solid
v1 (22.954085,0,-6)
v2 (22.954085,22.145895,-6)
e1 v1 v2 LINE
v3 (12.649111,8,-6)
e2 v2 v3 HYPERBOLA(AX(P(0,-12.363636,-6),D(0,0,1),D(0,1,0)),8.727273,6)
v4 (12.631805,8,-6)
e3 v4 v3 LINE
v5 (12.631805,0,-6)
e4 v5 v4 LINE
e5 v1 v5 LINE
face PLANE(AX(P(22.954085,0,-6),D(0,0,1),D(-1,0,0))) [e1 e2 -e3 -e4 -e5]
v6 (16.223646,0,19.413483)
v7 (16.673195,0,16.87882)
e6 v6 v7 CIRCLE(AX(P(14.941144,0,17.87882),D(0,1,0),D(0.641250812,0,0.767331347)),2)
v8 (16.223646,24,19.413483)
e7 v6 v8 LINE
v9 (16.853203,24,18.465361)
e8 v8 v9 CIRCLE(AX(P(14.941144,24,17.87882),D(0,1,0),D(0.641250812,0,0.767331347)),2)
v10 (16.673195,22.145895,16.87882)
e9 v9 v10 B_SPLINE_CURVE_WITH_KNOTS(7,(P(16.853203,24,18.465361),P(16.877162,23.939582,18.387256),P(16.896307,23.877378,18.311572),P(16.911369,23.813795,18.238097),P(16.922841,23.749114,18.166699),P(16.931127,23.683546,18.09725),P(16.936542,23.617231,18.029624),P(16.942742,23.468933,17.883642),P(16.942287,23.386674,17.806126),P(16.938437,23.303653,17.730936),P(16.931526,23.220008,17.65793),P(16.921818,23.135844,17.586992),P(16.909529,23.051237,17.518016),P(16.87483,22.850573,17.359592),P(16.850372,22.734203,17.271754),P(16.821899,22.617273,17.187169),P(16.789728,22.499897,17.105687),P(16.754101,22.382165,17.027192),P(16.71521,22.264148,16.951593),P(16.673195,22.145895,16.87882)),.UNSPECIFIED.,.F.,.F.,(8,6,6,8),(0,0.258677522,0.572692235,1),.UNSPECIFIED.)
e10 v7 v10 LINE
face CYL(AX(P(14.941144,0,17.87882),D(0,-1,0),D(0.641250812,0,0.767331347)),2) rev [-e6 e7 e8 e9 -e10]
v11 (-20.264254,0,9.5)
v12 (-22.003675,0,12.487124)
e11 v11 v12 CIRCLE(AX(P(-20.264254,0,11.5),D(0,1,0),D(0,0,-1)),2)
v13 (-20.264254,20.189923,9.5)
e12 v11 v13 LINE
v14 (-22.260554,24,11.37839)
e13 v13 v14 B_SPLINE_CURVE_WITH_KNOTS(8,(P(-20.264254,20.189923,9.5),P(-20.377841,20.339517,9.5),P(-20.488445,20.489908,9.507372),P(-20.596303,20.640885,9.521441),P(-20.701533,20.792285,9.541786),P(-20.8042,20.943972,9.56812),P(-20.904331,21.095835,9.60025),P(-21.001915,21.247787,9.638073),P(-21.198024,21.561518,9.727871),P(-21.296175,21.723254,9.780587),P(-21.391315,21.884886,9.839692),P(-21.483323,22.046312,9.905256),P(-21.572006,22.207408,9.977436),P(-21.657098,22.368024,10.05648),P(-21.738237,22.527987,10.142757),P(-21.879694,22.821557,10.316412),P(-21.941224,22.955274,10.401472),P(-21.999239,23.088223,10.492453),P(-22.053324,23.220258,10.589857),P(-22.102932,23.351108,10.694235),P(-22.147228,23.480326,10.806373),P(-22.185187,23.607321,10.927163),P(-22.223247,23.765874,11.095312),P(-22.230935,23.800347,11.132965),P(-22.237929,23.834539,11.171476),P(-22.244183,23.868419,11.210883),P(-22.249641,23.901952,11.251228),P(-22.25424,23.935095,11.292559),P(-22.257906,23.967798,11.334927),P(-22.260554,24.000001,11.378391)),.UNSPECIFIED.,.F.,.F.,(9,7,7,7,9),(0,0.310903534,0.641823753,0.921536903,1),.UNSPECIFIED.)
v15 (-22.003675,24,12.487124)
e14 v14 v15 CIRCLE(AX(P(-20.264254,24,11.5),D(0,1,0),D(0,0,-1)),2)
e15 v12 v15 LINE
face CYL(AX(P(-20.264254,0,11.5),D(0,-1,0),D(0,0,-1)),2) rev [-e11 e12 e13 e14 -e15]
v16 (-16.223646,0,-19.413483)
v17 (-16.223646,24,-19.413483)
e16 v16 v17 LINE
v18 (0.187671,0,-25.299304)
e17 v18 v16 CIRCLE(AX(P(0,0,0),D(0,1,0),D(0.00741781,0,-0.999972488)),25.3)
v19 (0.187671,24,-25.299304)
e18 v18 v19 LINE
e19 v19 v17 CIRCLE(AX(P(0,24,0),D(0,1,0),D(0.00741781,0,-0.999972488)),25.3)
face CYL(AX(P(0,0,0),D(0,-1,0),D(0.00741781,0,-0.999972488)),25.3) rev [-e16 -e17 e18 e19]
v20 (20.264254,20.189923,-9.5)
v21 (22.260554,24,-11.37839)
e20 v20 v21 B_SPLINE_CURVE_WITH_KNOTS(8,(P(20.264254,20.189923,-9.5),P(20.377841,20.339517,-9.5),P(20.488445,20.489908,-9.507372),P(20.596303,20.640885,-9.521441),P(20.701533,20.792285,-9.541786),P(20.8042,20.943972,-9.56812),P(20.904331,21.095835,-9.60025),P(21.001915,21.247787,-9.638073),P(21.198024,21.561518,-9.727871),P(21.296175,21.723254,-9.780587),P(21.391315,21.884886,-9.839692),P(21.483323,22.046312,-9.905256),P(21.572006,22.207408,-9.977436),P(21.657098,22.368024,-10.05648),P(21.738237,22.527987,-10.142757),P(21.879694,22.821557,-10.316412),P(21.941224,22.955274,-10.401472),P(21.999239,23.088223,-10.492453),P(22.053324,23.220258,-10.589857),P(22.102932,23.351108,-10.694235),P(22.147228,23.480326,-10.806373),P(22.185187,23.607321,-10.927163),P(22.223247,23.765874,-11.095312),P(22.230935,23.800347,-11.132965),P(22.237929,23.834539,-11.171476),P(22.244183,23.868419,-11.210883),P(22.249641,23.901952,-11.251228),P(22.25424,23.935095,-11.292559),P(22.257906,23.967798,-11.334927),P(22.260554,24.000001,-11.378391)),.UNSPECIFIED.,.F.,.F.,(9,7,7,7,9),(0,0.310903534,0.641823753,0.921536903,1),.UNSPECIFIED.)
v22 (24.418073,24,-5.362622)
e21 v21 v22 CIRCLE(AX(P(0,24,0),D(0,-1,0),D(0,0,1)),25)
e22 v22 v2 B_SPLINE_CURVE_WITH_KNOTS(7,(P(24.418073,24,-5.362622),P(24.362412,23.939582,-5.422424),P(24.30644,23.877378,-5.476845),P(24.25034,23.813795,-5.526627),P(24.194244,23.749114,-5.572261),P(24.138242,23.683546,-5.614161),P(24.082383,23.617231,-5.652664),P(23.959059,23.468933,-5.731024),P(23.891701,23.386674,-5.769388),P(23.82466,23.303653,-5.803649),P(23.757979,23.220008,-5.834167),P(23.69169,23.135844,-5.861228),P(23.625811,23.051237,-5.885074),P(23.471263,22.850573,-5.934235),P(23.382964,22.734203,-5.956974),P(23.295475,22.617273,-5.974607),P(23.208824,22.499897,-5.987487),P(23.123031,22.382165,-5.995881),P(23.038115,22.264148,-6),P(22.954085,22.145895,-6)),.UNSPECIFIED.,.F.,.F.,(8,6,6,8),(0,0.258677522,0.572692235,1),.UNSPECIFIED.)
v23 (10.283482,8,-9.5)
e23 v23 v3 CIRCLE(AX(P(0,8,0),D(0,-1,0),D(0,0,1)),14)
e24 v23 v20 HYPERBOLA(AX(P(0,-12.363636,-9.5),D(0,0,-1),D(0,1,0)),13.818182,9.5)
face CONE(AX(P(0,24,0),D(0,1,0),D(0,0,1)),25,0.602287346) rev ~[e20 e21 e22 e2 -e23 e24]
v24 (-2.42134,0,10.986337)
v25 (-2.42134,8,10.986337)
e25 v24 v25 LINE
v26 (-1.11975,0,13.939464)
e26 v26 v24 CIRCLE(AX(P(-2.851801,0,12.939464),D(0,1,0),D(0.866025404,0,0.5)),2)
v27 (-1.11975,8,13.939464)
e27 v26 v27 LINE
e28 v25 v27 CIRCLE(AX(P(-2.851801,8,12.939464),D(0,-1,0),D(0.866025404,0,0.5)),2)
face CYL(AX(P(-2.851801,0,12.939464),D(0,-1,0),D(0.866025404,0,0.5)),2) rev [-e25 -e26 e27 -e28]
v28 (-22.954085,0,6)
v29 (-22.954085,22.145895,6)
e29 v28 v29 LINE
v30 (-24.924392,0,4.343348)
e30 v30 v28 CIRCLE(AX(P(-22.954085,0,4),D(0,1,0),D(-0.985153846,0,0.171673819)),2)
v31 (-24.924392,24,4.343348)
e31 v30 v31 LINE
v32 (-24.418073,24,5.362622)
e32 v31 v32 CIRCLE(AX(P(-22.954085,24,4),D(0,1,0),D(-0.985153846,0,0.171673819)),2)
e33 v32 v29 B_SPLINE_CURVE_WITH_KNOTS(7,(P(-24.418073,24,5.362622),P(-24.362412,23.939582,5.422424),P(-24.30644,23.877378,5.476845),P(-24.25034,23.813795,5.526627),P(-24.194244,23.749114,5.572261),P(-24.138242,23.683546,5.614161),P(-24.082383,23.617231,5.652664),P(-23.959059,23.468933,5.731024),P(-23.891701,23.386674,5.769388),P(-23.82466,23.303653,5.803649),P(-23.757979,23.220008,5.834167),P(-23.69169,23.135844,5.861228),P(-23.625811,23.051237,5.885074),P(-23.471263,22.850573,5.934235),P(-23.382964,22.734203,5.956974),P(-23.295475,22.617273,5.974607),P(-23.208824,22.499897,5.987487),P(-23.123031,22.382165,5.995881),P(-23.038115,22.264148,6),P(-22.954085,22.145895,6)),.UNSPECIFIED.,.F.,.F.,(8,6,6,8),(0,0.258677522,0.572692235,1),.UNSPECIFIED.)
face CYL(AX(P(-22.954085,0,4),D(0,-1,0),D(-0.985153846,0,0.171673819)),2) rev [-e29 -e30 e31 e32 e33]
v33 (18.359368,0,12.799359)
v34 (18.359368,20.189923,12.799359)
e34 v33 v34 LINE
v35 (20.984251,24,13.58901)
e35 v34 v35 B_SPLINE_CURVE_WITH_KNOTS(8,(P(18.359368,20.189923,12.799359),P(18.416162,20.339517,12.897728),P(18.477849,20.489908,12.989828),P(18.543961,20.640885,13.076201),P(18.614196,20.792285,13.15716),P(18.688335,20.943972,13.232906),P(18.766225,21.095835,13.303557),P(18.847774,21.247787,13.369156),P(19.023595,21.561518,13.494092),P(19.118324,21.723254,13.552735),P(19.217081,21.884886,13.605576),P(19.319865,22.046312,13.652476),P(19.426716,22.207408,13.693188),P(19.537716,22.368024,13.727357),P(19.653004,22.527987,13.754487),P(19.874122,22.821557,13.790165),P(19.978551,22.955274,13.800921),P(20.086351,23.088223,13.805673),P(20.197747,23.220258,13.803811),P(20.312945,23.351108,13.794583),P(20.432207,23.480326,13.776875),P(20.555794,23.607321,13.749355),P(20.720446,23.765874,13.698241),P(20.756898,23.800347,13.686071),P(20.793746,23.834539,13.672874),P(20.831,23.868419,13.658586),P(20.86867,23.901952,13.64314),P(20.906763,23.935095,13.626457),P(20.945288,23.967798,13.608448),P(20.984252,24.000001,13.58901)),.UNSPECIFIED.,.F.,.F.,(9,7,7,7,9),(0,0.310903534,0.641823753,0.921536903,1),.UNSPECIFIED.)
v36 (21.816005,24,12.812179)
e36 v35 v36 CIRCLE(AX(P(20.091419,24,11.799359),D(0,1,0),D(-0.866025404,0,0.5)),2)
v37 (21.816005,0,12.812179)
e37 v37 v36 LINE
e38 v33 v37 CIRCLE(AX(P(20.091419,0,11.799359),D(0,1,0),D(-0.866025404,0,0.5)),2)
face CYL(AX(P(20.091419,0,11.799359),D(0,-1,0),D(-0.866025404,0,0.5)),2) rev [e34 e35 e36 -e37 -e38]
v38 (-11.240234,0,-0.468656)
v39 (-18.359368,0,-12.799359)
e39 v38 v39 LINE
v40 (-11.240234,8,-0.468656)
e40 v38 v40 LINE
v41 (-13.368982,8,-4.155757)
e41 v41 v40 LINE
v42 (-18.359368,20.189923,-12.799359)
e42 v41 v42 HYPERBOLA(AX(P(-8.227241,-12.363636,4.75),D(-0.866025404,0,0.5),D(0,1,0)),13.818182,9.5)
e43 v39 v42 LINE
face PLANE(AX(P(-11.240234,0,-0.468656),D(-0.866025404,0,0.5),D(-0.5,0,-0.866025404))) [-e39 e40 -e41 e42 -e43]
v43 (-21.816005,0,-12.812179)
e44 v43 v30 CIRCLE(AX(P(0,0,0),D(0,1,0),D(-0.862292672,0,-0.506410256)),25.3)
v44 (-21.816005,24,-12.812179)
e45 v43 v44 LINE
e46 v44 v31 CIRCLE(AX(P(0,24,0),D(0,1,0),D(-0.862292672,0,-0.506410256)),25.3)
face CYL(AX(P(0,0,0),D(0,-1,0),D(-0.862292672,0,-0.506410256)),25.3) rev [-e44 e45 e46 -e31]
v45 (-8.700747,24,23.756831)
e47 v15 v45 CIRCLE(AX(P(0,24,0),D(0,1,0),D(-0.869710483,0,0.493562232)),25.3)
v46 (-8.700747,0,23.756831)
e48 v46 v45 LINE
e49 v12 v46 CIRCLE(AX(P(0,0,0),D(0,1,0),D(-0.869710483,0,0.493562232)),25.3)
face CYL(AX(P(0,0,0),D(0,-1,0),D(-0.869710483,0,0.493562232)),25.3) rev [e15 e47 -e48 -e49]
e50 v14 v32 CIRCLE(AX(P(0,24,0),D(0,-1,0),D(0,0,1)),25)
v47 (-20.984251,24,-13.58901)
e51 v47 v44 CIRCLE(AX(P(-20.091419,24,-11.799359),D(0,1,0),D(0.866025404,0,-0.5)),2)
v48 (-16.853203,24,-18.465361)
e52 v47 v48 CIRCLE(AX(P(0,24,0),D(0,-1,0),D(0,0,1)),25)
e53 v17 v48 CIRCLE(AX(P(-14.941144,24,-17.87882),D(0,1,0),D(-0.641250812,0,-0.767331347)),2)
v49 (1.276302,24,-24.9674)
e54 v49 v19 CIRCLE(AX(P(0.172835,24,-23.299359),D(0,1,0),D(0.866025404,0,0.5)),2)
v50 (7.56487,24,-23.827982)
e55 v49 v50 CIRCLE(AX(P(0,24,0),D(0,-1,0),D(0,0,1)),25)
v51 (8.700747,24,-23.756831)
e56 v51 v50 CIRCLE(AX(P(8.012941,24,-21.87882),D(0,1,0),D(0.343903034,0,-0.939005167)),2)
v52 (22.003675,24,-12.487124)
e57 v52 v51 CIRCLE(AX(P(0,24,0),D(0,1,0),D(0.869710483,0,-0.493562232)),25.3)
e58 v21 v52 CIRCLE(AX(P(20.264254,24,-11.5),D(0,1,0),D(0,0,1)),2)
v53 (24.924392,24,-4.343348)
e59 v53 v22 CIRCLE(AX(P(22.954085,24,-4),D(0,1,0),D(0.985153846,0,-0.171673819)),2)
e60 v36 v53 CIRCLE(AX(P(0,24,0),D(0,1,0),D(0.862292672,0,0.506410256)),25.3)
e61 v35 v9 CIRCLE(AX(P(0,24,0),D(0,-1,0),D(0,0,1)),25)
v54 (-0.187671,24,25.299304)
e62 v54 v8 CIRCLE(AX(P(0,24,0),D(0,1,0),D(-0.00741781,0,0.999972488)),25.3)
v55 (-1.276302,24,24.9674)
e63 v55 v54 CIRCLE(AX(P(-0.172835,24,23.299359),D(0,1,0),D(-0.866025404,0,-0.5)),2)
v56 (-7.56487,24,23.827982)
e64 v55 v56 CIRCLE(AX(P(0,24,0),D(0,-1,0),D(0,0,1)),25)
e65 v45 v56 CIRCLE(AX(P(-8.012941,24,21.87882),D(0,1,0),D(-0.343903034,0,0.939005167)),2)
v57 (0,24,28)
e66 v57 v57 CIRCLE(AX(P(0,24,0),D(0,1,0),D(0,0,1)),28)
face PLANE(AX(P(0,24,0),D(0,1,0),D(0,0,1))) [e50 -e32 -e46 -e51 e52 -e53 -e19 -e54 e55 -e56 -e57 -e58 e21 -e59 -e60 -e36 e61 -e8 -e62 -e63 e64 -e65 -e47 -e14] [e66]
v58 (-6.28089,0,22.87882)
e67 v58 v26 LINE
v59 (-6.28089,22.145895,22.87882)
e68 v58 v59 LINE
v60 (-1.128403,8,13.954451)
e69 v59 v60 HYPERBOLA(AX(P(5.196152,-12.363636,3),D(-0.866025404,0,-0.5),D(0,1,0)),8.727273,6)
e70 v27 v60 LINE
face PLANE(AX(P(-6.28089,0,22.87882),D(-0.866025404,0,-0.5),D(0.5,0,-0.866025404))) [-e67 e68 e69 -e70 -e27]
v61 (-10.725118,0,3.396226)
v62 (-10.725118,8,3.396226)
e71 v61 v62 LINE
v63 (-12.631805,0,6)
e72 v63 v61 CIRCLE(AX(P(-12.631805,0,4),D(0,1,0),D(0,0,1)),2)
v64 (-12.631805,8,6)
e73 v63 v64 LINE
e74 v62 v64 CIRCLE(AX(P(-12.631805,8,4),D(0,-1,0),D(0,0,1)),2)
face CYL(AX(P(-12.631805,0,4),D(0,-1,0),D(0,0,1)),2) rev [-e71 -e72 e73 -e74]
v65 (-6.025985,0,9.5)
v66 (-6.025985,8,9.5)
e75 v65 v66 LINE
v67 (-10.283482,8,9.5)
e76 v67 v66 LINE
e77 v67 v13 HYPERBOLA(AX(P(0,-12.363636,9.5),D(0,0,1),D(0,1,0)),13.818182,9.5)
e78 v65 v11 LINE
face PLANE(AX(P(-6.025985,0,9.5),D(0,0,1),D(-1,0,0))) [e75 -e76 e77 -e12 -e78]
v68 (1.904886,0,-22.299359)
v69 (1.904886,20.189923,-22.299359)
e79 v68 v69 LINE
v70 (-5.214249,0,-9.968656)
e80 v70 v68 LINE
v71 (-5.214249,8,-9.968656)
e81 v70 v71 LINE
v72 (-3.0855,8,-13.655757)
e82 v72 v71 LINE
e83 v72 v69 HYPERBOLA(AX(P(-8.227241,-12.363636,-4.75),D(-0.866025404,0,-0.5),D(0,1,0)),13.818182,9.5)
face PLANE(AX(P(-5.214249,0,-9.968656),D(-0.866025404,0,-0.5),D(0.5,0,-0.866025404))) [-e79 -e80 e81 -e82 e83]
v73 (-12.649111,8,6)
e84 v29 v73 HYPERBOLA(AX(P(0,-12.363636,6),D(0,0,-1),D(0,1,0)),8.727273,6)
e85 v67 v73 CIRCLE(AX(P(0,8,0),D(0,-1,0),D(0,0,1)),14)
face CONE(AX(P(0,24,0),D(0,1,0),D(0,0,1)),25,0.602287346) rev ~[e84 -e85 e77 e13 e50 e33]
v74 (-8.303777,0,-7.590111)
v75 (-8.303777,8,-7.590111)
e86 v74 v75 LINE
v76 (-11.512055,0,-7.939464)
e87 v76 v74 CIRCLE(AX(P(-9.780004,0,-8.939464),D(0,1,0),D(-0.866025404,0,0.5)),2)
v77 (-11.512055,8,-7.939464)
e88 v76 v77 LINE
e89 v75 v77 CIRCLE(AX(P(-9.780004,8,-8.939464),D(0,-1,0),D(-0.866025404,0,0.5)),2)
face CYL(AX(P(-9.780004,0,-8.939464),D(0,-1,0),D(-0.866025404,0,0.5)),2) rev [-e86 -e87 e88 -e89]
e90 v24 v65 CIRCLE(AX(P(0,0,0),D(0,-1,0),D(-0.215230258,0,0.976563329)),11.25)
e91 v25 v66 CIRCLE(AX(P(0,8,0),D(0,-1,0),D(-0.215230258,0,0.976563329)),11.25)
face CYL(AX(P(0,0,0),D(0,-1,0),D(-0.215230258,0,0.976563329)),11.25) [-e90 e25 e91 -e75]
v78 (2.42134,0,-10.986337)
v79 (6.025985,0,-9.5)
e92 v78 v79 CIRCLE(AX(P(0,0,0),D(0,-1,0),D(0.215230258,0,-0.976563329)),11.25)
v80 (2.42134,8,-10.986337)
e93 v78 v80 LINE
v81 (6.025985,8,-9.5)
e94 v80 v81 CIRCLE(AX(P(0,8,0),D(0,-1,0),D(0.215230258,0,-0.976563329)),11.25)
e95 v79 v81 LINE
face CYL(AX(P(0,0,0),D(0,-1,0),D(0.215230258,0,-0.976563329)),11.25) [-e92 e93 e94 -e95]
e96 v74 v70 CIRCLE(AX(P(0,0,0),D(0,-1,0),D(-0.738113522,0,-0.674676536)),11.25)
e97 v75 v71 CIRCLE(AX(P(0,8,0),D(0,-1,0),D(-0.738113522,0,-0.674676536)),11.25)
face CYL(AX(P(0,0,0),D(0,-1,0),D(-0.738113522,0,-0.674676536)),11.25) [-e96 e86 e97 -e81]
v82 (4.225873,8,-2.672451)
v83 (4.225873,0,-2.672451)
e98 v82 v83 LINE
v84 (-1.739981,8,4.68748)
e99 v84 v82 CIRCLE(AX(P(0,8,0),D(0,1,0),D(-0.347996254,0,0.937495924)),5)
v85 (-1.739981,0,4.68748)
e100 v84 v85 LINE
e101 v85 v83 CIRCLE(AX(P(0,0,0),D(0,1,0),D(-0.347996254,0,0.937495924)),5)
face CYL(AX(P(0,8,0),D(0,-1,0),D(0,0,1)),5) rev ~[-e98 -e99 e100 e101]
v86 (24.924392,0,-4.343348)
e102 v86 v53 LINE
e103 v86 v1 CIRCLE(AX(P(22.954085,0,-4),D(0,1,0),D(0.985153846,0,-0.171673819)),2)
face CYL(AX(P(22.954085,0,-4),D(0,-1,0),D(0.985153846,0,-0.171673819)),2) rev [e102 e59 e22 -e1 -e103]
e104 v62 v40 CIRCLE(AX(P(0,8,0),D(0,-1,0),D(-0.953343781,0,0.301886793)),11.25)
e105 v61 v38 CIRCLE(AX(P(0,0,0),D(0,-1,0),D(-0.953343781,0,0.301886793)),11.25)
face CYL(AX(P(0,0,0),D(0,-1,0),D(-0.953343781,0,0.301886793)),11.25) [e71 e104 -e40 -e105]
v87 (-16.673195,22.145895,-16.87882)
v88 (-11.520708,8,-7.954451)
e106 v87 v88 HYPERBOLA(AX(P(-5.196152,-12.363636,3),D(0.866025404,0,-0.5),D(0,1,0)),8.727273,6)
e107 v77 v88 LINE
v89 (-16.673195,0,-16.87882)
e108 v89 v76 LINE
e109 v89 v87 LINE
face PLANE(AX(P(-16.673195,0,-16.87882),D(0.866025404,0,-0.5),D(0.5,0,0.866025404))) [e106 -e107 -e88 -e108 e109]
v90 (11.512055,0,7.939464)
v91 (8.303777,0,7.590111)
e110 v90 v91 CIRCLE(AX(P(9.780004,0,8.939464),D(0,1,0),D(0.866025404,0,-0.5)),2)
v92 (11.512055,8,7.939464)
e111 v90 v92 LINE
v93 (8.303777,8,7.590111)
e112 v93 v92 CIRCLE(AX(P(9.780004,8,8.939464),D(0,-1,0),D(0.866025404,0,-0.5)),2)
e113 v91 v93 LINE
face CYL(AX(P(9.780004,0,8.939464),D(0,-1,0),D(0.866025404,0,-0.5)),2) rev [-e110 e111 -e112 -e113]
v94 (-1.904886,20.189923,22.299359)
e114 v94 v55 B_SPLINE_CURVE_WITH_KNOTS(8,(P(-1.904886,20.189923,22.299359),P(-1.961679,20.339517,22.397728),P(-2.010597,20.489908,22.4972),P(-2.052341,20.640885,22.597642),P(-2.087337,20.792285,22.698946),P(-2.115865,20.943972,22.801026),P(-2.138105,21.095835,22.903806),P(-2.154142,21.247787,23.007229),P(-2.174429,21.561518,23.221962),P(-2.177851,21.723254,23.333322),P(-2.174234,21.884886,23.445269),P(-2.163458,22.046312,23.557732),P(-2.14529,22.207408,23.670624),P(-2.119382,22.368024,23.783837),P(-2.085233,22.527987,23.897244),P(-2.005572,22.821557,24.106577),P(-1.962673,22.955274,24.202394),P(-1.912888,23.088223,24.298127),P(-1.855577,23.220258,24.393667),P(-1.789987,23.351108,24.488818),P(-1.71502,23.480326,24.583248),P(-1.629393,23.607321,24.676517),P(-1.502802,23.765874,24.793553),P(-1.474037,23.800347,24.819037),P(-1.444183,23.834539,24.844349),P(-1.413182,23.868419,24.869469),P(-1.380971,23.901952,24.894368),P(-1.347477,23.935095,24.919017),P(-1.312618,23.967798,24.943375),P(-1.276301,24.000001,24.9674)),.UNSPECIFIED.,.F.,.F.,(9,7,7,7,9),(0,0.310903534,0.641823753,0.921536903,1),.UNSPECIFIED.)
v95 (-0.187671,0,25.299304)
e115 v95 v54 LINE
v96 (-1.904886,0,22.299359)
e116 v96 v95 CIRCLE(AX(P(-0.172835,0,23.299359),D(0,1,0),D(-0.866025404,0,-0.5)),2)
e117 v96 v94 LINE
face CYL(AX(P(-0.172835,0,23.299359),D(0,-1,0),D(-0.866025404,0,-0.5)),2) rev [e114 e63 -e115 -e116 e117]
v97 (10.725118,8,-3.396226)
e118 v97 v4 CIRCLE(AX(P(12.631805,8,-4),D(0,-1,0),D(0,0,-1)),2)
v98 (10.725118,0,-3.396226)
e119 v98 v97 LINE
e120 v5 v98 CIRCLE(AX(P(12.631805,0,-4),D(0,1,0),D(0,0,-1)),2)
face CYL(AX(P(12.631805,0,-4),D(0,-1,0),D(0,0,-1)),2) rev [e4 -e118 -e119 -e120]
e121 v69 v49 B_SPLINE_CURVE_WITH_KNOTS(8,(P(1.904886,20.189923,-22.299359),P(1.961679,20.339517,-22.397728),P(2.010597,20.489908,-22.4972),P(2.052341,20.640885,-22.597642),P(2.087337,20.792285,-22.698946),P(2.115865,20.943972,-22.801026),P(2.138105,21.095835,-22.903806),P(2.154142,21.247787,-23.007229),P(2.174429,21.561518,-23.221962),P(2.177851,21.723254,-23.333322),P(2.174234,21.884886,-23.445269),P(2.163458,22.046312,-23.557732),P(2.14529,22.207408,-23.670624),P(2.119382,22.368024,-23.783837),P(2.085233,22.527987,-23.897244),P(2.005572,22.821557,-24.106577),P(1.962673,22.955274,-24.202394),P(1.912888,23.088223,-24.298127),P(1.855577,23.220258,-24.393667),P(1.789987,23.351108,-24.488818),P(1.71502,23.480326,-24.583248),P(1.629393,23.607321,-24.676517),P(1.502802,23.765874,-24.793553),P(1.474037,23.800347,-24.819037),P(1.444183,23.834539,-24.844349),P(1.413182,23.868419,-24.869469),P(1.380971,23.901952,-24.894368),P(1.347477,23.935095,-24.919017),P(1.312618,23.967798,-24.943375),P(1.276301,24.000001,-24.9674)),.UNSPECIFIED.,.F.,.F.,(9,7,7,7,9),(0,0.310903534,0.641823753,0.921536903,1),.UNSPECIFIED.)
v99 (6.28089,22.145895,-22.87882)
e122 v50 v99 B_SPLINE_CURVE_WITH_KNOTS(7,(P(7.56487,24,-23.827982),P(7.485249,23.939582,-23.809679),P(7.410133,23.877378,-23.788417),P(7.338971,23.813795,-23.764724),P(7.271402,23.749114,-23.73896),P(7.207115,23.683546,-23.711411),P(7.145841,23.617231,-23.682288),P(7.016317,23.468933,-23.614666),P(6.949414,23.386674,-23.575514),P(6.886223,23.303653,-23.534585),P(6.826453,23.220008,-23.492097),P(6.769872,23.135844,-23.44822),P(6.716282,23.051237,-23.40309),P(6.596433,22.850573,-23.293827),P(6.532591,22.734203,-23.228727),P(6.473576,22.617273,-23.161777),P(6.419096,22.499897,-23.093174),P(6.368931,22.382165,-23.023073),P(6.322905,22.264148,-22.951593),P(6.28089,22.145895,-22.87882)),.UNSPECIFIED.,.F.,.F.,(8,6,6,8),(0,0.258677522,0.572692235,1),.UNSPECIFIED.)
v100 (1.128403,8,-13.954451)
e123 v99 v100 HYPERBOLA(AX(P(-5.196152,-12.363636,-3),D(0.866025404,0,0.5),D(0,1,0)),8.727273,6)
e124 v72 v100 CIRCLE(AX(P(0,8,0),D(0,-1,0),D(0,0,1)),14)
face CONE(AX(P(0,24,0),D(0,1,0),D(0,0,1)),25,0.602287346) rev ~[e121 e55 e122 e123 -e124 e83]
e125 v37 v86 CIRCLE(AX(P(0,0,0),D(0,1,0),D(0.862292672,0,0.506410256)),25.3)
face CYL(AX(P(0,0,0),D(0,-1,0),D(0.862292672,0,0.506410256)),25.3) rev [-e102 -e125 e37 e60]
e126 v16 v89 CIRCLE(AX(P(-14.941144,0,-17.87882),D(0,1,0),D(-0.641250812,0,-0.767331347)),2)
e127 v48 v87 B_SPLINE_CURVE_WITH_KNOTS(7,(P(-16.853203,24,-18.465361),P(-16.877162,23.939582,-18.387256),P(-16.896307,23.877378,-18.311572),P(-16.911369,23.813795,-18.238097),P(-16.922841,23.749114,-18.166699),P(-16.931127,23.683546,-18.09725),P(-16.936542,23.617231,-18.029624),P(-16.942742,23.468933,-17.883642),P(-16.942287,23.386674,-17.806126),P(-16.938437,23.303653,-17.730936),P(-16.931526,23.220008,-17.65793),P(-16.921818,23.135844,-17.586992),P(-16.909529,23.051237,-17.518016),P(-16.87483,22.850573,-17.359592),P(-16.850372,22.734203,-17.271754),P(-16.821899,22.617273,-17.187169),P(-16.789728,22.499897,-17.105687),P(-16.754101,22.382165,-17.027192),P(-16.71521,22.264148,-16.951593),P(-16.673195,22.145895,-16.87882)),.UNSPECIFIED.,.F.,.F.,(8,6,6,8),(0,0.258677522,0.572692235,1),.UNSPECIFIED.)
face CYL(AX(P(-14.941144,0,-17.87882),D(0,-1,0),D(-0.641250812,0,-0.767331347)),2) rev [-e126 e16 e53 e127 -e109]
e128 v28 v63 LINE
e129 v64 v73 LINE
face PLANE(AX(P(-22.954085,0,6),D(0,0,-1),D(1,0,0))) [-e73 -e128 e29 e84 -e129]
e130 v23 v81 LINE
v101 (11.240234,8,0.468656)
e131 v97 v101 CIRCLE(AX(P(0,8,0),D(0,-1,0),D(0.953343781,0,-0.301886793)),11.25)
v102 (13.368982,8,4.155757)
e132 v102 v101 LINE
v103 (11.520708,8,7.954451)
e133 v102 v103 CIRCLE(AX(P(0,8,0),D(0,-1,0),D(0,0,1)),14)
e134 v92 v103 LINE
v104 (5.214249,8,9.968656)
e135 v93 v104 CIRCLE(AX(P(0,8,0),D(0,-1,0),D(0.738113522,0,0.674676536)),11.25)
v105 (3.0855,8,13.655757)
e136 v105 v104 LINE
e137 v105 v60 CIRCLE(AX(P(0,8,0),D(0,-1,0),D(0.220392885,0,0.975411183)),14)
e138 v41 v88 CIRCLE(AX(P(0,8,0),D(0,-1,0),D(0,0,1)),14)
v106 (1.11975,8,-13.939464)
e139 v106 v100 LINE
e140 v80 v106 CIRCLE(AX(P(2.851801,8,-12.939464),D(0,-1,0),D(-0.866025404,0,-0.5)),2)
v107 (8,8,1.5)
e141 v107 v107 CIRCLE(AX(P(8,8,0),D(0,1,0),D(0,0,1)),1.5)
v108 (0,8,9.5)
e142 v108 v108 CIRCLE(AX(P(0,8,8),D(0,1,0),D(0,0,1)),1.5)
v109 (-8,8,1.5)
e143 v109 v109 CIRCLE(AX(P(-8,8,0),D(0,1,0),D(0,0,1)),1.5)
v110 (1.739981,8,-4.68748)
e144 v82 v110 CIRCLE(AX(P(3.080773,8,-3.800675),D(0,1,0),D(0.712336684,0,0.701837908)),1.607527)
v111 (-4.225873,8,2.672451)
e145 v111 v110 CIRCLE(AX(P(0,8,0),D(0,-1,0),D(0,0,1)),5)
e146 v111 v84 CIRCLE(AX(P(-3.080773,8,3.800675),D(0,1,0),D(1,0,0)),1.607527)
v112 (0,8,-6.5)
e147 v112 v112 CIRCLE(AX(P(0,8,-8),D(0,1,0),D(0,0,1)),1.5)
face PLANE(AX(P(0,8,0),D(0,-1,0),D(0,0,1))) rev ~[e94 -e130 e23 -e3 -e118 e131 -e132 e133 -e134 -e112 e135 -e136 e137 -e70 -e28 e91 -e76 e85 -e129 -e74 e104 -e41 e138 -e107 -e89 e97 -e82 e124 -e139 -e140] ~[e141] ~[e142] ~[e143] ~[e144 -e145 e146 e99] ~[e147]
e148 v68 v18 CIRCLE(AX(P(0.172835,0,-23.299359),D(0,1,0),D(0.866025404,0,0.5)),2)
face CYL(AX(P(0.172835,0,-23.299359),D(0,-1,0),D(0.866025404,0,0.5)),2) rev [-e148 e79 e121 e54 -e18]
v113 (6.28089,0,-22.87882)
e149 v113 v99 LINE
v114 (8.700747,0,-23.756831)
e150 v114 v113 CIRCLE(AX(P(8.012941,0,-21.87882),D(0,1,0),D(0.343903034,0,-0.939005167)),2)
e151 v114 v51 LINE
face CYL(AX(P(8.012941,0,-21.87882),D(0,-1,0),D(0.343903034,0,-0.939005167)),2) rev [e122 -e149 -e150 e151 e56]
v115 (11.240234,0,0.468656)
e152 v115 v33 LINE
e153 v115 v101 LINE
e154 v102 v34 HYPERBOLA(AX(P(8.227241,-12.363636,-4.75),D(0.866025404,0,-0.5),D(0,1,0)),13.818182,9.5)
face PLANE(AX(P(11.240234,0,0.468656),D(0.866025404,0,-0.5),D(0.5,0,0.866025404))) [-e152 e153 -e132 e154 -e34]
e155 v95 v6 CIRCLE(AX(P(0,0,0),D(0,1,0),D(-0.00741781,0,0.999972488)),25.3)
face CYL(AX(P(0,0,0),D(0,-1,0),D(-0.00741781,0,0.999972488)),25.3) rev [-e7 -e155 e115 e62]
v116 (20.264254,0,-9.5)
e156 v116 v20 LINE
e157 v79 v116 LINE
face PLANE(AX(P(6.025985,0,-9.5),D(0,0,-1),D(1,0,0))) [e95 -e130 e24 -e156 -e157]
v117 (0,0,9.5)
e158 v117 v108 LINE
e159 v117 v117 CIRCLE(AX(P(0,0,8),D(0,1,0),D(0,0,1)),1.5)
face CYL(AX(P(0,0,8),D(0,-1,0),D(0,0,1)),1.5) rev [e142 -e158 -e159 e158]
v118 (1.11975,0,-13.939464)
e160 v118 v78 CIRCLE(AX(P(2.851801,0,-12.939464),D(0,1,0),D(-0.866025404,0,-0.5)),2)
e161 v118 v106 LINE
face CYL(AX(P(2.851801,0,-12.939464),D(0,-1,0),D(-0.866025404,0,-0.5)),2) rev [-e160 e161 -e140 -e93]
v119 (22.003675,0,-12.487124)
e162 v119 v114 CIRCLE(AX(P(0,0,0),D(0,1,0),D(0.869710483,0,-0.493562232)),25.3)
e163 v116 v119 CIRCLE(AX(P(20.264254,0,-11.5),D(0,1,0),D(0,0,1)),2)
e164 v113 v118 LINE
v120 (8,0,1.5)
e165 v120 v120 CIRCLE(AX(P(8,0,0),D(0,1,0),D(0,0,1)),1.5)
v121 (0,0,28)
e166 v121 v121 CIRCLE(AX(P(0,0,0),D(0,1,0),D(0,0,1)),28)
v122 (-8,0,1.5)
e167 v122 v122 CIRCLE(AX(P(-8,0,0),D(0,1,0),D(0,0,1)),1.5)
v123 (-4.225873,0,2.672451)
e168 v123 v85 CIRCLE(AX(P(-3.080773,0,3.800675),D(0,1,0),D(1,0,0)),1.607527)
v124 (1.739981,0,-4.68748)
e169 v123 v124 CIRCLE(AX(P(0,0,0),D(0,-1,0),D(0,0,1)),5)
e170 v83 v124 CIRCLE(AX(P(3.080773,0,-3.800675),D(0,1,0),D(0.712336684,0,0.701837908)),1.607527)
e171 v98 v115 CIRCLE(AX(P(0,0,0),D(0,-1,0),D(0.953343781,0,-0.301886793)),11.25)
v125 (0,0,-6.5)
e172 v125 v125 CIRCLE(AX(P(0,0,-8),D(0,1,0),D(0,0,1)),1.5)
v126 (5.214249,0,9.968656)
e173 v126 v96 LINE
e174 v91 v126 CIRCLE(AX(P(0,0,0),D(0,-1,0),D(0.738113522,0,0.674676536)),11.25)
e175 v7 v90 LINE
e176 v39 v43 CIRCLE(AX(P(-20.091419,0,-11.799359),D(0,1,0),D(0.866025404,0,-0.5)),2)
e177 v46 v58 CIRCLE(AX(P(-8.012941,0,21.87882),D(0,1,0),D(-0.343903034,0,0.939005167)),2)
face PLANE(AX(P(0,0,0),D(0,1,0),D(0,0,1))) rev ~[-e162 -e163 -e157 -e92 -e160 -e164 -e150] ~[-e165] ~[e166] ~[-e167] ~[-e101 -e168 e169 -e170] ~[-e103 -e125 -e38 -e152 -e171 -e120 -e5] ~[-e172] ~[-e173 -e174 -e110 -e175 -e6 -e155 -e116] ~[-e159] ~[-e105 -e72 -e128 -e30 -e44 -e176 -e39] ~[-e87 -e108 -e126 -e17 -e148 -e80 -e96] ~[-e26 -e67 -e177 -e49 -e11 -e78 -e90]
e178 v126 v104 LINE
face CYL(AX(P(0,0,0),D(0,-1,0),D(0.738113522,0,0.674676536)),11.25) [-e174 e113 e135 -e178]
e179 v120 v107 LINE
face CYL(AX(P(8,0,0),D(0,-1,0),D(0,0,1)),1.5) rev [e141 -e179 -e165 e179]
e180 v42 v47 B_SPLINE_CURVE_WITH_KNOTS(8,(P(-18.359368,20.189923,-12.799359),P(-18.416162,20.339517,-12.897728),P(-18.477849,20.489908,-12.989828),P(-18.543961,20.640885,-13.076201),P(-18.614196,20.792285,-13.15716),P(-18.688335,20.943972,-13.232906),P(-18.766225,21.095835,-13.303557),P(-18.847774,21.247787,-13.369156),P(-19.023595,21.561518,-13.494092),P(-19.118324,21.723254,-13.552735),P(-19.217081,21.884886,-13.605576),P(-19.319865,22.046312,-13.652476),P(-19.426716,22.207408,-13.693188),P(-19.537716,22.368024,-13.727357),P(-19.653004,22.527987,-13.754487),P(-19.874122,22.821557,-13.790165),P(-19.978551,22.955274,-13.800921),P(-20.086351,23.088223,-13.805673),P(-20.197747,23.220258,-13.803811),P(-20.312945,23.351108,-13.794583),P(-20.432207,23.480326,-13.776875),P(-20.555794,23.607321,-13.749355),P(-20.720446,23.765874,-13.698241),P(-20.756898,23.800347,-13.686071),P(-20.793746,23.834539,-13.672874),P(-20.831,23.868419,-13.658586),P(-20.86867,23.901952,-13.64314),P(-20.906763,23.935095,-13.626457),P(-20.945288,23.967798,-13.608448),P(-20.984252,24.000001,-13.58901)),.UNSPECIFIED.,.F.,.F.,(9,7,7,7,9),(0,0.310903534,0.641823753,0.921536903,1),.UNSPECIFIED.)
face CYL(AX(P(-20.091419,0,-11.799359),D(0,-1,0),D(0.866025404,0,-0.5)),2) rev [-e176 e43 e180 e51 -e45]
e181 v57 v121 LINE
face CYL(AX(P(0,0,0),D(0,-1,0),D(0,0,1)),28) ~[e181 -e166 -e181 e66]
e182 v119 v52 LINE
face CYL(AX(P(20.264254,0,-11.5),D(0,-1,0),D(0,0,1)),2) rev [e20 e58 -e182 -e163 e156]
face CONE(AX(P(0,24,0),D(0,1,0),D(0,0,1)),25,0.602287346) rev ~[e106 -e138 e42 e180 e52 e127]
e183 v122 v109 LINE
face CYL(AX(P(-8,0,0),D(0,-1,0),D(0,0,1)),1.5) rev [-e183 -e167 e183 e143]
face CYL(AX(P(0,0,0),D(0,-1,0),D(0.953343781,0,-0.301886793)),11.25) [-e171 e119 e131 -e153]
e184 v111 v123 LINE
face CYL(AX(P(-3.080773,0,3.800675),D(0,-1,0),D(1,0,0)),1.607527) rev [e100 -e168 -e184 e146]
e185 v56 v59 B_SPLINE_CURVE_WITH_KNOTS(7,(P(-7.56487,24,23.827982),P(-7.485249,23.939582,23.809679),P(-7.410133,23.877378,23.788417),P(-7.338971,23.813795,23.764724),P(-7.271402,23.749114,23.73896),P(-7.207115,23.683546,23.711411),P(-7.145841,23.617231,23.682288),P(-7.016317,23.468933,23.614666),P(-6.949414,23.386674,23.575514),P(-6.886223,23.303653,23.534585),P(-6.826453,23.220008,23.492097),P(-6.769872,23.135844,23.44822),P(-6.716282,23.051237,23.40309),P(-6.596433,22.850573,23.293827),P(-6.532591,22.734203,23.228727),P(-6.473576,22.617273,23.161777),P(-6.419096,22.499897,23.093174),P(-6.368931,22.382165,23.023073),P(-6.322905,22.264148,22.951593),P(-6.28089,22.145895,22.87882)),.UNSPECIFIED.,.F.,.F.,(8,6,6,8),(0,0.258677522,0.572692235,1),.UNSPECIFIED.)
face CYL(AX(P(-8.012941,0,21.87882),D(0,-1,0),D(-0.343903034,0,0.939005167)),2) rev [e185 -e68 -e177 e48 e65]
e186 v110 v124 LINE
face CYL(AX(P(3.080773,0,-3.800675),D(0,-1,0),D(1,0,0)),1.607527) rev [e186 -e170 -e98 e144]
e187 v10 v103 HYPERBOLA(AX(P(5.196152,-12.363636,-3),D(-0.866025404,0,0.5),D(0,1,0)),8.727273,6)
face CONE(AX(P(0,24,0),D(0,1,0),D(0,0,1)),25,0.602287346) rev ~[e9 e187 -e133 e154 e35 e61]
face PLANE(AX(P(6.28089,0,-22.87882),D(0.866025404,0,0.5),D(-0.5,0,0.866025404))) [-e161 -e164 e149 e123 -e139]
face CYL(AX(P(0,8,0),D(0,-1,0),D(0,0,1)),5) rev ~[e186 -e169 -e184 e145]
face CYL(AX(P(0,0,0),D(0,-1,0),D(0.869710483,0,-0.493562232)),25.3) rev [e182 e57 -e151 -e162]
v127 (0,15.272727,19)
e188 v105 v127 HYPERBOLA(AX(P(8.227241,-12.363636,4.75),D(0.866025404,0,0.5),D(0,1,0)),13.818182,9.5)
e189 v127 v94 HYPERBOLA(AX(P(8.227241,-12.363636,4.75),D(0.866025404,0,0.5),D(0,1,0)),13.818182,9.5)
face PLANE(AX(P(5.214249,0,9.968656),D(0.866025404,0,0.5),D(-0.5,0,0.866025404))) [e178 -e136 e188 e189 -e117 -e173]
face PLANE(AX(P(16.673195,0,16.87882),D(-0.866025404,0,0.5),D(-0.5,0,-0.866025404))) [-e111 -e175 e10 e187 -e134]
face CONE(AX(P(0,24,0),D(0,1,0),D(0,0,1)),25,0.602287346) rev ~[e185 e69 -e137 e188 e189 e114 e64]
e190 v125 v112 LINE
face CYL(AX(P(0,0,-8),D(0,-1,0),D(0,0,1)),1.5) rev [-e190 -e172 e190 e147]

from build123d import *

# Parameters (mm, degrees)
SKETCH1_R           = 28
BOSS_EXTRUDE1_DEPTH = 24
SKETCH6_R           = 1.9
CUT_EXTRUDE6_DEPTH  = 24
CUT_EXTRUDE7_DEPTH  = 24
CIRPATTERN1_COUNT   = 6
SKETCH17_R          = 1.5
CUT_EXTRUDE9_DEPTH  = 8
SKETCH18_R          = 1.607527434
CUT_EXTRUDE10_DEPTH = 8


with BuildPart() as part:
    # Sketch1 → Boss-Extrude1 (new body)
    with BuildSketch(Plane(origin=(0, 0, 0), x_dir=(1, 0, 0), z_dir=(0, 1, 0))):
        with Locations(Location((0, 0, 0), (0, 0, 270))):
            Circle(SKETCH1_R)
    extrude(amount=BOSS_EXTRUDE1_DEPTH)

    # Sketch6 → Cut-Extrude6 (cut)
    with BuildSketch(Plane(origin=(0, 0, 0), x_dir=(1, 0, 0), z_dir=(0, 1, 0))):
        with Locations(Location((0, 0, 0), (0, 0, 270))):
            Circle(SKETCH6_R)
    extrude(amount=CUT_EXTRUDE6_DEPTH, mode=Mode.SUBTRACT)

    # Sketch3 → Cut-Extrude7 (cut)
    with BuildSketch(Plane(origin=(0, 0, 0), x_dir=(1, 0, 0), z_dir=(0, 1, 0))):
        with BuildLine():
            Line((6.025985397, 9.5), (20.264254242, 9.5))
            ThreePointArc((20.264254242, 9.5), (21.992584206, 10.493582822), (22.003675207, 12.487124464))
            ThreePointArc((22.003675207, 12.487124464), (16.353652552, 19.304094079), (8.700746754, 23.756830721))
            ThreePointArc((8.700746754, 23.756830721), (7.330784322, 23.758890252), (6.280889879, 22.878820388))
            Line((6.280889879, 22.878820388), (1.119750126, 13.939464109))
            ThreePointArc((1.119750126, 13.939464109), (1.021677147, 12.132837227), (2.421340415, 10.986337451))
            ThreePointArc((2.421340415, 10.986337451), (4.288546152, 10.400522675), (6.025985397, 9.5))
        make_face()
    cut_extrude7 = extrude(amount=CUT_EXTRUDE7_DEPTH, mode=Mode.SUBTRACT)

    # CirPattern1: Cut-Extrude7 ×6 about axis
    cirpattern1_axis = Axis((0, 0, 0), (0, 1, 0))
    for i in range(1, CIRPATTERN1_COUNT):
        add(cut_extrude7.rotate(cirpattern1_axis, i * 360 / CIRPATTERN1_COUNT), mode=Mode.SUBTRACT)

    # Sketch14 → Revolve1 (revolve)
    with BuildSketch(Plane.XY):
        Polygon((25.5, 13), (25.5, 12), (28, 12), (28, 14), align=None)
    revolve1 = revolve(axis=Axis((0, 24, 0), (0, -1, 0)))

    # Mirror11: Revolve1 across plane
    add(revolve1.mirror(Plane.ZX.offset(12)))

    # Sketch15 → Cut-Revolve5 (revolve, cut)
    with BuildSketch(Plane.XY, mode=Mode.PRIVATE) as cut_revolve5_sk:
        Polygon((5, 8), (5, 0), (0, 0), (0, 8), (0, 24), (25, 24), (14, 8), align=None)
    revolve(cut_revolve5_sk.sketch.rotate(Axis((0, 8, 0), (0, -1, 0)), 90), axis=Axis((0, 8, 0), (0, -1, 0)), mode=Mode.SUBTRACT)

    # Sketch17 → Cut-Extrude9 (cut)
    with BuildSketch(Plane(origin=(0, 0, 0), x_dir=(1, 0, 0), z_dir=(0, 1, 0))):
        with Locations(Location((0, 8, 0), (0, 0, 270))):
            Circle(SKETCH17_R)
        with Locations(Location((8, 0, 0), (0, 0, 270))):
            Circle(SKETCH17_R)
        with Locations(Location((0, -8, 0), (0, 0, 270))):
            Circle(SKETCH17_R)
        with Locations(Location((-8, 0, 0), (0, 0, 270))):
            Circle(SKETCH17_R)
    extrude(amount=CUT_EXTRUDE9_DEPTH, mode=Mode.SUBTRACT)

    # Sketch18 → Cut-Extrude10 (cut)
    with BuildSketch(Plane(origin=(0, 0, 0), x_dir=(1, 0, 0), z_dir=(0, 1, 0))):
        with Locations((3.080772614, 3.800674665)):
            Circle(SKETCH18_R)
        with Locations((-3.080772614, -3.800674665)):
            Circle(SKETCH18_R)
    extrude(amount=CUT_EXTRUDE10_DEPTH, mode=Mode.SUBTRACT)


solid = part.part
